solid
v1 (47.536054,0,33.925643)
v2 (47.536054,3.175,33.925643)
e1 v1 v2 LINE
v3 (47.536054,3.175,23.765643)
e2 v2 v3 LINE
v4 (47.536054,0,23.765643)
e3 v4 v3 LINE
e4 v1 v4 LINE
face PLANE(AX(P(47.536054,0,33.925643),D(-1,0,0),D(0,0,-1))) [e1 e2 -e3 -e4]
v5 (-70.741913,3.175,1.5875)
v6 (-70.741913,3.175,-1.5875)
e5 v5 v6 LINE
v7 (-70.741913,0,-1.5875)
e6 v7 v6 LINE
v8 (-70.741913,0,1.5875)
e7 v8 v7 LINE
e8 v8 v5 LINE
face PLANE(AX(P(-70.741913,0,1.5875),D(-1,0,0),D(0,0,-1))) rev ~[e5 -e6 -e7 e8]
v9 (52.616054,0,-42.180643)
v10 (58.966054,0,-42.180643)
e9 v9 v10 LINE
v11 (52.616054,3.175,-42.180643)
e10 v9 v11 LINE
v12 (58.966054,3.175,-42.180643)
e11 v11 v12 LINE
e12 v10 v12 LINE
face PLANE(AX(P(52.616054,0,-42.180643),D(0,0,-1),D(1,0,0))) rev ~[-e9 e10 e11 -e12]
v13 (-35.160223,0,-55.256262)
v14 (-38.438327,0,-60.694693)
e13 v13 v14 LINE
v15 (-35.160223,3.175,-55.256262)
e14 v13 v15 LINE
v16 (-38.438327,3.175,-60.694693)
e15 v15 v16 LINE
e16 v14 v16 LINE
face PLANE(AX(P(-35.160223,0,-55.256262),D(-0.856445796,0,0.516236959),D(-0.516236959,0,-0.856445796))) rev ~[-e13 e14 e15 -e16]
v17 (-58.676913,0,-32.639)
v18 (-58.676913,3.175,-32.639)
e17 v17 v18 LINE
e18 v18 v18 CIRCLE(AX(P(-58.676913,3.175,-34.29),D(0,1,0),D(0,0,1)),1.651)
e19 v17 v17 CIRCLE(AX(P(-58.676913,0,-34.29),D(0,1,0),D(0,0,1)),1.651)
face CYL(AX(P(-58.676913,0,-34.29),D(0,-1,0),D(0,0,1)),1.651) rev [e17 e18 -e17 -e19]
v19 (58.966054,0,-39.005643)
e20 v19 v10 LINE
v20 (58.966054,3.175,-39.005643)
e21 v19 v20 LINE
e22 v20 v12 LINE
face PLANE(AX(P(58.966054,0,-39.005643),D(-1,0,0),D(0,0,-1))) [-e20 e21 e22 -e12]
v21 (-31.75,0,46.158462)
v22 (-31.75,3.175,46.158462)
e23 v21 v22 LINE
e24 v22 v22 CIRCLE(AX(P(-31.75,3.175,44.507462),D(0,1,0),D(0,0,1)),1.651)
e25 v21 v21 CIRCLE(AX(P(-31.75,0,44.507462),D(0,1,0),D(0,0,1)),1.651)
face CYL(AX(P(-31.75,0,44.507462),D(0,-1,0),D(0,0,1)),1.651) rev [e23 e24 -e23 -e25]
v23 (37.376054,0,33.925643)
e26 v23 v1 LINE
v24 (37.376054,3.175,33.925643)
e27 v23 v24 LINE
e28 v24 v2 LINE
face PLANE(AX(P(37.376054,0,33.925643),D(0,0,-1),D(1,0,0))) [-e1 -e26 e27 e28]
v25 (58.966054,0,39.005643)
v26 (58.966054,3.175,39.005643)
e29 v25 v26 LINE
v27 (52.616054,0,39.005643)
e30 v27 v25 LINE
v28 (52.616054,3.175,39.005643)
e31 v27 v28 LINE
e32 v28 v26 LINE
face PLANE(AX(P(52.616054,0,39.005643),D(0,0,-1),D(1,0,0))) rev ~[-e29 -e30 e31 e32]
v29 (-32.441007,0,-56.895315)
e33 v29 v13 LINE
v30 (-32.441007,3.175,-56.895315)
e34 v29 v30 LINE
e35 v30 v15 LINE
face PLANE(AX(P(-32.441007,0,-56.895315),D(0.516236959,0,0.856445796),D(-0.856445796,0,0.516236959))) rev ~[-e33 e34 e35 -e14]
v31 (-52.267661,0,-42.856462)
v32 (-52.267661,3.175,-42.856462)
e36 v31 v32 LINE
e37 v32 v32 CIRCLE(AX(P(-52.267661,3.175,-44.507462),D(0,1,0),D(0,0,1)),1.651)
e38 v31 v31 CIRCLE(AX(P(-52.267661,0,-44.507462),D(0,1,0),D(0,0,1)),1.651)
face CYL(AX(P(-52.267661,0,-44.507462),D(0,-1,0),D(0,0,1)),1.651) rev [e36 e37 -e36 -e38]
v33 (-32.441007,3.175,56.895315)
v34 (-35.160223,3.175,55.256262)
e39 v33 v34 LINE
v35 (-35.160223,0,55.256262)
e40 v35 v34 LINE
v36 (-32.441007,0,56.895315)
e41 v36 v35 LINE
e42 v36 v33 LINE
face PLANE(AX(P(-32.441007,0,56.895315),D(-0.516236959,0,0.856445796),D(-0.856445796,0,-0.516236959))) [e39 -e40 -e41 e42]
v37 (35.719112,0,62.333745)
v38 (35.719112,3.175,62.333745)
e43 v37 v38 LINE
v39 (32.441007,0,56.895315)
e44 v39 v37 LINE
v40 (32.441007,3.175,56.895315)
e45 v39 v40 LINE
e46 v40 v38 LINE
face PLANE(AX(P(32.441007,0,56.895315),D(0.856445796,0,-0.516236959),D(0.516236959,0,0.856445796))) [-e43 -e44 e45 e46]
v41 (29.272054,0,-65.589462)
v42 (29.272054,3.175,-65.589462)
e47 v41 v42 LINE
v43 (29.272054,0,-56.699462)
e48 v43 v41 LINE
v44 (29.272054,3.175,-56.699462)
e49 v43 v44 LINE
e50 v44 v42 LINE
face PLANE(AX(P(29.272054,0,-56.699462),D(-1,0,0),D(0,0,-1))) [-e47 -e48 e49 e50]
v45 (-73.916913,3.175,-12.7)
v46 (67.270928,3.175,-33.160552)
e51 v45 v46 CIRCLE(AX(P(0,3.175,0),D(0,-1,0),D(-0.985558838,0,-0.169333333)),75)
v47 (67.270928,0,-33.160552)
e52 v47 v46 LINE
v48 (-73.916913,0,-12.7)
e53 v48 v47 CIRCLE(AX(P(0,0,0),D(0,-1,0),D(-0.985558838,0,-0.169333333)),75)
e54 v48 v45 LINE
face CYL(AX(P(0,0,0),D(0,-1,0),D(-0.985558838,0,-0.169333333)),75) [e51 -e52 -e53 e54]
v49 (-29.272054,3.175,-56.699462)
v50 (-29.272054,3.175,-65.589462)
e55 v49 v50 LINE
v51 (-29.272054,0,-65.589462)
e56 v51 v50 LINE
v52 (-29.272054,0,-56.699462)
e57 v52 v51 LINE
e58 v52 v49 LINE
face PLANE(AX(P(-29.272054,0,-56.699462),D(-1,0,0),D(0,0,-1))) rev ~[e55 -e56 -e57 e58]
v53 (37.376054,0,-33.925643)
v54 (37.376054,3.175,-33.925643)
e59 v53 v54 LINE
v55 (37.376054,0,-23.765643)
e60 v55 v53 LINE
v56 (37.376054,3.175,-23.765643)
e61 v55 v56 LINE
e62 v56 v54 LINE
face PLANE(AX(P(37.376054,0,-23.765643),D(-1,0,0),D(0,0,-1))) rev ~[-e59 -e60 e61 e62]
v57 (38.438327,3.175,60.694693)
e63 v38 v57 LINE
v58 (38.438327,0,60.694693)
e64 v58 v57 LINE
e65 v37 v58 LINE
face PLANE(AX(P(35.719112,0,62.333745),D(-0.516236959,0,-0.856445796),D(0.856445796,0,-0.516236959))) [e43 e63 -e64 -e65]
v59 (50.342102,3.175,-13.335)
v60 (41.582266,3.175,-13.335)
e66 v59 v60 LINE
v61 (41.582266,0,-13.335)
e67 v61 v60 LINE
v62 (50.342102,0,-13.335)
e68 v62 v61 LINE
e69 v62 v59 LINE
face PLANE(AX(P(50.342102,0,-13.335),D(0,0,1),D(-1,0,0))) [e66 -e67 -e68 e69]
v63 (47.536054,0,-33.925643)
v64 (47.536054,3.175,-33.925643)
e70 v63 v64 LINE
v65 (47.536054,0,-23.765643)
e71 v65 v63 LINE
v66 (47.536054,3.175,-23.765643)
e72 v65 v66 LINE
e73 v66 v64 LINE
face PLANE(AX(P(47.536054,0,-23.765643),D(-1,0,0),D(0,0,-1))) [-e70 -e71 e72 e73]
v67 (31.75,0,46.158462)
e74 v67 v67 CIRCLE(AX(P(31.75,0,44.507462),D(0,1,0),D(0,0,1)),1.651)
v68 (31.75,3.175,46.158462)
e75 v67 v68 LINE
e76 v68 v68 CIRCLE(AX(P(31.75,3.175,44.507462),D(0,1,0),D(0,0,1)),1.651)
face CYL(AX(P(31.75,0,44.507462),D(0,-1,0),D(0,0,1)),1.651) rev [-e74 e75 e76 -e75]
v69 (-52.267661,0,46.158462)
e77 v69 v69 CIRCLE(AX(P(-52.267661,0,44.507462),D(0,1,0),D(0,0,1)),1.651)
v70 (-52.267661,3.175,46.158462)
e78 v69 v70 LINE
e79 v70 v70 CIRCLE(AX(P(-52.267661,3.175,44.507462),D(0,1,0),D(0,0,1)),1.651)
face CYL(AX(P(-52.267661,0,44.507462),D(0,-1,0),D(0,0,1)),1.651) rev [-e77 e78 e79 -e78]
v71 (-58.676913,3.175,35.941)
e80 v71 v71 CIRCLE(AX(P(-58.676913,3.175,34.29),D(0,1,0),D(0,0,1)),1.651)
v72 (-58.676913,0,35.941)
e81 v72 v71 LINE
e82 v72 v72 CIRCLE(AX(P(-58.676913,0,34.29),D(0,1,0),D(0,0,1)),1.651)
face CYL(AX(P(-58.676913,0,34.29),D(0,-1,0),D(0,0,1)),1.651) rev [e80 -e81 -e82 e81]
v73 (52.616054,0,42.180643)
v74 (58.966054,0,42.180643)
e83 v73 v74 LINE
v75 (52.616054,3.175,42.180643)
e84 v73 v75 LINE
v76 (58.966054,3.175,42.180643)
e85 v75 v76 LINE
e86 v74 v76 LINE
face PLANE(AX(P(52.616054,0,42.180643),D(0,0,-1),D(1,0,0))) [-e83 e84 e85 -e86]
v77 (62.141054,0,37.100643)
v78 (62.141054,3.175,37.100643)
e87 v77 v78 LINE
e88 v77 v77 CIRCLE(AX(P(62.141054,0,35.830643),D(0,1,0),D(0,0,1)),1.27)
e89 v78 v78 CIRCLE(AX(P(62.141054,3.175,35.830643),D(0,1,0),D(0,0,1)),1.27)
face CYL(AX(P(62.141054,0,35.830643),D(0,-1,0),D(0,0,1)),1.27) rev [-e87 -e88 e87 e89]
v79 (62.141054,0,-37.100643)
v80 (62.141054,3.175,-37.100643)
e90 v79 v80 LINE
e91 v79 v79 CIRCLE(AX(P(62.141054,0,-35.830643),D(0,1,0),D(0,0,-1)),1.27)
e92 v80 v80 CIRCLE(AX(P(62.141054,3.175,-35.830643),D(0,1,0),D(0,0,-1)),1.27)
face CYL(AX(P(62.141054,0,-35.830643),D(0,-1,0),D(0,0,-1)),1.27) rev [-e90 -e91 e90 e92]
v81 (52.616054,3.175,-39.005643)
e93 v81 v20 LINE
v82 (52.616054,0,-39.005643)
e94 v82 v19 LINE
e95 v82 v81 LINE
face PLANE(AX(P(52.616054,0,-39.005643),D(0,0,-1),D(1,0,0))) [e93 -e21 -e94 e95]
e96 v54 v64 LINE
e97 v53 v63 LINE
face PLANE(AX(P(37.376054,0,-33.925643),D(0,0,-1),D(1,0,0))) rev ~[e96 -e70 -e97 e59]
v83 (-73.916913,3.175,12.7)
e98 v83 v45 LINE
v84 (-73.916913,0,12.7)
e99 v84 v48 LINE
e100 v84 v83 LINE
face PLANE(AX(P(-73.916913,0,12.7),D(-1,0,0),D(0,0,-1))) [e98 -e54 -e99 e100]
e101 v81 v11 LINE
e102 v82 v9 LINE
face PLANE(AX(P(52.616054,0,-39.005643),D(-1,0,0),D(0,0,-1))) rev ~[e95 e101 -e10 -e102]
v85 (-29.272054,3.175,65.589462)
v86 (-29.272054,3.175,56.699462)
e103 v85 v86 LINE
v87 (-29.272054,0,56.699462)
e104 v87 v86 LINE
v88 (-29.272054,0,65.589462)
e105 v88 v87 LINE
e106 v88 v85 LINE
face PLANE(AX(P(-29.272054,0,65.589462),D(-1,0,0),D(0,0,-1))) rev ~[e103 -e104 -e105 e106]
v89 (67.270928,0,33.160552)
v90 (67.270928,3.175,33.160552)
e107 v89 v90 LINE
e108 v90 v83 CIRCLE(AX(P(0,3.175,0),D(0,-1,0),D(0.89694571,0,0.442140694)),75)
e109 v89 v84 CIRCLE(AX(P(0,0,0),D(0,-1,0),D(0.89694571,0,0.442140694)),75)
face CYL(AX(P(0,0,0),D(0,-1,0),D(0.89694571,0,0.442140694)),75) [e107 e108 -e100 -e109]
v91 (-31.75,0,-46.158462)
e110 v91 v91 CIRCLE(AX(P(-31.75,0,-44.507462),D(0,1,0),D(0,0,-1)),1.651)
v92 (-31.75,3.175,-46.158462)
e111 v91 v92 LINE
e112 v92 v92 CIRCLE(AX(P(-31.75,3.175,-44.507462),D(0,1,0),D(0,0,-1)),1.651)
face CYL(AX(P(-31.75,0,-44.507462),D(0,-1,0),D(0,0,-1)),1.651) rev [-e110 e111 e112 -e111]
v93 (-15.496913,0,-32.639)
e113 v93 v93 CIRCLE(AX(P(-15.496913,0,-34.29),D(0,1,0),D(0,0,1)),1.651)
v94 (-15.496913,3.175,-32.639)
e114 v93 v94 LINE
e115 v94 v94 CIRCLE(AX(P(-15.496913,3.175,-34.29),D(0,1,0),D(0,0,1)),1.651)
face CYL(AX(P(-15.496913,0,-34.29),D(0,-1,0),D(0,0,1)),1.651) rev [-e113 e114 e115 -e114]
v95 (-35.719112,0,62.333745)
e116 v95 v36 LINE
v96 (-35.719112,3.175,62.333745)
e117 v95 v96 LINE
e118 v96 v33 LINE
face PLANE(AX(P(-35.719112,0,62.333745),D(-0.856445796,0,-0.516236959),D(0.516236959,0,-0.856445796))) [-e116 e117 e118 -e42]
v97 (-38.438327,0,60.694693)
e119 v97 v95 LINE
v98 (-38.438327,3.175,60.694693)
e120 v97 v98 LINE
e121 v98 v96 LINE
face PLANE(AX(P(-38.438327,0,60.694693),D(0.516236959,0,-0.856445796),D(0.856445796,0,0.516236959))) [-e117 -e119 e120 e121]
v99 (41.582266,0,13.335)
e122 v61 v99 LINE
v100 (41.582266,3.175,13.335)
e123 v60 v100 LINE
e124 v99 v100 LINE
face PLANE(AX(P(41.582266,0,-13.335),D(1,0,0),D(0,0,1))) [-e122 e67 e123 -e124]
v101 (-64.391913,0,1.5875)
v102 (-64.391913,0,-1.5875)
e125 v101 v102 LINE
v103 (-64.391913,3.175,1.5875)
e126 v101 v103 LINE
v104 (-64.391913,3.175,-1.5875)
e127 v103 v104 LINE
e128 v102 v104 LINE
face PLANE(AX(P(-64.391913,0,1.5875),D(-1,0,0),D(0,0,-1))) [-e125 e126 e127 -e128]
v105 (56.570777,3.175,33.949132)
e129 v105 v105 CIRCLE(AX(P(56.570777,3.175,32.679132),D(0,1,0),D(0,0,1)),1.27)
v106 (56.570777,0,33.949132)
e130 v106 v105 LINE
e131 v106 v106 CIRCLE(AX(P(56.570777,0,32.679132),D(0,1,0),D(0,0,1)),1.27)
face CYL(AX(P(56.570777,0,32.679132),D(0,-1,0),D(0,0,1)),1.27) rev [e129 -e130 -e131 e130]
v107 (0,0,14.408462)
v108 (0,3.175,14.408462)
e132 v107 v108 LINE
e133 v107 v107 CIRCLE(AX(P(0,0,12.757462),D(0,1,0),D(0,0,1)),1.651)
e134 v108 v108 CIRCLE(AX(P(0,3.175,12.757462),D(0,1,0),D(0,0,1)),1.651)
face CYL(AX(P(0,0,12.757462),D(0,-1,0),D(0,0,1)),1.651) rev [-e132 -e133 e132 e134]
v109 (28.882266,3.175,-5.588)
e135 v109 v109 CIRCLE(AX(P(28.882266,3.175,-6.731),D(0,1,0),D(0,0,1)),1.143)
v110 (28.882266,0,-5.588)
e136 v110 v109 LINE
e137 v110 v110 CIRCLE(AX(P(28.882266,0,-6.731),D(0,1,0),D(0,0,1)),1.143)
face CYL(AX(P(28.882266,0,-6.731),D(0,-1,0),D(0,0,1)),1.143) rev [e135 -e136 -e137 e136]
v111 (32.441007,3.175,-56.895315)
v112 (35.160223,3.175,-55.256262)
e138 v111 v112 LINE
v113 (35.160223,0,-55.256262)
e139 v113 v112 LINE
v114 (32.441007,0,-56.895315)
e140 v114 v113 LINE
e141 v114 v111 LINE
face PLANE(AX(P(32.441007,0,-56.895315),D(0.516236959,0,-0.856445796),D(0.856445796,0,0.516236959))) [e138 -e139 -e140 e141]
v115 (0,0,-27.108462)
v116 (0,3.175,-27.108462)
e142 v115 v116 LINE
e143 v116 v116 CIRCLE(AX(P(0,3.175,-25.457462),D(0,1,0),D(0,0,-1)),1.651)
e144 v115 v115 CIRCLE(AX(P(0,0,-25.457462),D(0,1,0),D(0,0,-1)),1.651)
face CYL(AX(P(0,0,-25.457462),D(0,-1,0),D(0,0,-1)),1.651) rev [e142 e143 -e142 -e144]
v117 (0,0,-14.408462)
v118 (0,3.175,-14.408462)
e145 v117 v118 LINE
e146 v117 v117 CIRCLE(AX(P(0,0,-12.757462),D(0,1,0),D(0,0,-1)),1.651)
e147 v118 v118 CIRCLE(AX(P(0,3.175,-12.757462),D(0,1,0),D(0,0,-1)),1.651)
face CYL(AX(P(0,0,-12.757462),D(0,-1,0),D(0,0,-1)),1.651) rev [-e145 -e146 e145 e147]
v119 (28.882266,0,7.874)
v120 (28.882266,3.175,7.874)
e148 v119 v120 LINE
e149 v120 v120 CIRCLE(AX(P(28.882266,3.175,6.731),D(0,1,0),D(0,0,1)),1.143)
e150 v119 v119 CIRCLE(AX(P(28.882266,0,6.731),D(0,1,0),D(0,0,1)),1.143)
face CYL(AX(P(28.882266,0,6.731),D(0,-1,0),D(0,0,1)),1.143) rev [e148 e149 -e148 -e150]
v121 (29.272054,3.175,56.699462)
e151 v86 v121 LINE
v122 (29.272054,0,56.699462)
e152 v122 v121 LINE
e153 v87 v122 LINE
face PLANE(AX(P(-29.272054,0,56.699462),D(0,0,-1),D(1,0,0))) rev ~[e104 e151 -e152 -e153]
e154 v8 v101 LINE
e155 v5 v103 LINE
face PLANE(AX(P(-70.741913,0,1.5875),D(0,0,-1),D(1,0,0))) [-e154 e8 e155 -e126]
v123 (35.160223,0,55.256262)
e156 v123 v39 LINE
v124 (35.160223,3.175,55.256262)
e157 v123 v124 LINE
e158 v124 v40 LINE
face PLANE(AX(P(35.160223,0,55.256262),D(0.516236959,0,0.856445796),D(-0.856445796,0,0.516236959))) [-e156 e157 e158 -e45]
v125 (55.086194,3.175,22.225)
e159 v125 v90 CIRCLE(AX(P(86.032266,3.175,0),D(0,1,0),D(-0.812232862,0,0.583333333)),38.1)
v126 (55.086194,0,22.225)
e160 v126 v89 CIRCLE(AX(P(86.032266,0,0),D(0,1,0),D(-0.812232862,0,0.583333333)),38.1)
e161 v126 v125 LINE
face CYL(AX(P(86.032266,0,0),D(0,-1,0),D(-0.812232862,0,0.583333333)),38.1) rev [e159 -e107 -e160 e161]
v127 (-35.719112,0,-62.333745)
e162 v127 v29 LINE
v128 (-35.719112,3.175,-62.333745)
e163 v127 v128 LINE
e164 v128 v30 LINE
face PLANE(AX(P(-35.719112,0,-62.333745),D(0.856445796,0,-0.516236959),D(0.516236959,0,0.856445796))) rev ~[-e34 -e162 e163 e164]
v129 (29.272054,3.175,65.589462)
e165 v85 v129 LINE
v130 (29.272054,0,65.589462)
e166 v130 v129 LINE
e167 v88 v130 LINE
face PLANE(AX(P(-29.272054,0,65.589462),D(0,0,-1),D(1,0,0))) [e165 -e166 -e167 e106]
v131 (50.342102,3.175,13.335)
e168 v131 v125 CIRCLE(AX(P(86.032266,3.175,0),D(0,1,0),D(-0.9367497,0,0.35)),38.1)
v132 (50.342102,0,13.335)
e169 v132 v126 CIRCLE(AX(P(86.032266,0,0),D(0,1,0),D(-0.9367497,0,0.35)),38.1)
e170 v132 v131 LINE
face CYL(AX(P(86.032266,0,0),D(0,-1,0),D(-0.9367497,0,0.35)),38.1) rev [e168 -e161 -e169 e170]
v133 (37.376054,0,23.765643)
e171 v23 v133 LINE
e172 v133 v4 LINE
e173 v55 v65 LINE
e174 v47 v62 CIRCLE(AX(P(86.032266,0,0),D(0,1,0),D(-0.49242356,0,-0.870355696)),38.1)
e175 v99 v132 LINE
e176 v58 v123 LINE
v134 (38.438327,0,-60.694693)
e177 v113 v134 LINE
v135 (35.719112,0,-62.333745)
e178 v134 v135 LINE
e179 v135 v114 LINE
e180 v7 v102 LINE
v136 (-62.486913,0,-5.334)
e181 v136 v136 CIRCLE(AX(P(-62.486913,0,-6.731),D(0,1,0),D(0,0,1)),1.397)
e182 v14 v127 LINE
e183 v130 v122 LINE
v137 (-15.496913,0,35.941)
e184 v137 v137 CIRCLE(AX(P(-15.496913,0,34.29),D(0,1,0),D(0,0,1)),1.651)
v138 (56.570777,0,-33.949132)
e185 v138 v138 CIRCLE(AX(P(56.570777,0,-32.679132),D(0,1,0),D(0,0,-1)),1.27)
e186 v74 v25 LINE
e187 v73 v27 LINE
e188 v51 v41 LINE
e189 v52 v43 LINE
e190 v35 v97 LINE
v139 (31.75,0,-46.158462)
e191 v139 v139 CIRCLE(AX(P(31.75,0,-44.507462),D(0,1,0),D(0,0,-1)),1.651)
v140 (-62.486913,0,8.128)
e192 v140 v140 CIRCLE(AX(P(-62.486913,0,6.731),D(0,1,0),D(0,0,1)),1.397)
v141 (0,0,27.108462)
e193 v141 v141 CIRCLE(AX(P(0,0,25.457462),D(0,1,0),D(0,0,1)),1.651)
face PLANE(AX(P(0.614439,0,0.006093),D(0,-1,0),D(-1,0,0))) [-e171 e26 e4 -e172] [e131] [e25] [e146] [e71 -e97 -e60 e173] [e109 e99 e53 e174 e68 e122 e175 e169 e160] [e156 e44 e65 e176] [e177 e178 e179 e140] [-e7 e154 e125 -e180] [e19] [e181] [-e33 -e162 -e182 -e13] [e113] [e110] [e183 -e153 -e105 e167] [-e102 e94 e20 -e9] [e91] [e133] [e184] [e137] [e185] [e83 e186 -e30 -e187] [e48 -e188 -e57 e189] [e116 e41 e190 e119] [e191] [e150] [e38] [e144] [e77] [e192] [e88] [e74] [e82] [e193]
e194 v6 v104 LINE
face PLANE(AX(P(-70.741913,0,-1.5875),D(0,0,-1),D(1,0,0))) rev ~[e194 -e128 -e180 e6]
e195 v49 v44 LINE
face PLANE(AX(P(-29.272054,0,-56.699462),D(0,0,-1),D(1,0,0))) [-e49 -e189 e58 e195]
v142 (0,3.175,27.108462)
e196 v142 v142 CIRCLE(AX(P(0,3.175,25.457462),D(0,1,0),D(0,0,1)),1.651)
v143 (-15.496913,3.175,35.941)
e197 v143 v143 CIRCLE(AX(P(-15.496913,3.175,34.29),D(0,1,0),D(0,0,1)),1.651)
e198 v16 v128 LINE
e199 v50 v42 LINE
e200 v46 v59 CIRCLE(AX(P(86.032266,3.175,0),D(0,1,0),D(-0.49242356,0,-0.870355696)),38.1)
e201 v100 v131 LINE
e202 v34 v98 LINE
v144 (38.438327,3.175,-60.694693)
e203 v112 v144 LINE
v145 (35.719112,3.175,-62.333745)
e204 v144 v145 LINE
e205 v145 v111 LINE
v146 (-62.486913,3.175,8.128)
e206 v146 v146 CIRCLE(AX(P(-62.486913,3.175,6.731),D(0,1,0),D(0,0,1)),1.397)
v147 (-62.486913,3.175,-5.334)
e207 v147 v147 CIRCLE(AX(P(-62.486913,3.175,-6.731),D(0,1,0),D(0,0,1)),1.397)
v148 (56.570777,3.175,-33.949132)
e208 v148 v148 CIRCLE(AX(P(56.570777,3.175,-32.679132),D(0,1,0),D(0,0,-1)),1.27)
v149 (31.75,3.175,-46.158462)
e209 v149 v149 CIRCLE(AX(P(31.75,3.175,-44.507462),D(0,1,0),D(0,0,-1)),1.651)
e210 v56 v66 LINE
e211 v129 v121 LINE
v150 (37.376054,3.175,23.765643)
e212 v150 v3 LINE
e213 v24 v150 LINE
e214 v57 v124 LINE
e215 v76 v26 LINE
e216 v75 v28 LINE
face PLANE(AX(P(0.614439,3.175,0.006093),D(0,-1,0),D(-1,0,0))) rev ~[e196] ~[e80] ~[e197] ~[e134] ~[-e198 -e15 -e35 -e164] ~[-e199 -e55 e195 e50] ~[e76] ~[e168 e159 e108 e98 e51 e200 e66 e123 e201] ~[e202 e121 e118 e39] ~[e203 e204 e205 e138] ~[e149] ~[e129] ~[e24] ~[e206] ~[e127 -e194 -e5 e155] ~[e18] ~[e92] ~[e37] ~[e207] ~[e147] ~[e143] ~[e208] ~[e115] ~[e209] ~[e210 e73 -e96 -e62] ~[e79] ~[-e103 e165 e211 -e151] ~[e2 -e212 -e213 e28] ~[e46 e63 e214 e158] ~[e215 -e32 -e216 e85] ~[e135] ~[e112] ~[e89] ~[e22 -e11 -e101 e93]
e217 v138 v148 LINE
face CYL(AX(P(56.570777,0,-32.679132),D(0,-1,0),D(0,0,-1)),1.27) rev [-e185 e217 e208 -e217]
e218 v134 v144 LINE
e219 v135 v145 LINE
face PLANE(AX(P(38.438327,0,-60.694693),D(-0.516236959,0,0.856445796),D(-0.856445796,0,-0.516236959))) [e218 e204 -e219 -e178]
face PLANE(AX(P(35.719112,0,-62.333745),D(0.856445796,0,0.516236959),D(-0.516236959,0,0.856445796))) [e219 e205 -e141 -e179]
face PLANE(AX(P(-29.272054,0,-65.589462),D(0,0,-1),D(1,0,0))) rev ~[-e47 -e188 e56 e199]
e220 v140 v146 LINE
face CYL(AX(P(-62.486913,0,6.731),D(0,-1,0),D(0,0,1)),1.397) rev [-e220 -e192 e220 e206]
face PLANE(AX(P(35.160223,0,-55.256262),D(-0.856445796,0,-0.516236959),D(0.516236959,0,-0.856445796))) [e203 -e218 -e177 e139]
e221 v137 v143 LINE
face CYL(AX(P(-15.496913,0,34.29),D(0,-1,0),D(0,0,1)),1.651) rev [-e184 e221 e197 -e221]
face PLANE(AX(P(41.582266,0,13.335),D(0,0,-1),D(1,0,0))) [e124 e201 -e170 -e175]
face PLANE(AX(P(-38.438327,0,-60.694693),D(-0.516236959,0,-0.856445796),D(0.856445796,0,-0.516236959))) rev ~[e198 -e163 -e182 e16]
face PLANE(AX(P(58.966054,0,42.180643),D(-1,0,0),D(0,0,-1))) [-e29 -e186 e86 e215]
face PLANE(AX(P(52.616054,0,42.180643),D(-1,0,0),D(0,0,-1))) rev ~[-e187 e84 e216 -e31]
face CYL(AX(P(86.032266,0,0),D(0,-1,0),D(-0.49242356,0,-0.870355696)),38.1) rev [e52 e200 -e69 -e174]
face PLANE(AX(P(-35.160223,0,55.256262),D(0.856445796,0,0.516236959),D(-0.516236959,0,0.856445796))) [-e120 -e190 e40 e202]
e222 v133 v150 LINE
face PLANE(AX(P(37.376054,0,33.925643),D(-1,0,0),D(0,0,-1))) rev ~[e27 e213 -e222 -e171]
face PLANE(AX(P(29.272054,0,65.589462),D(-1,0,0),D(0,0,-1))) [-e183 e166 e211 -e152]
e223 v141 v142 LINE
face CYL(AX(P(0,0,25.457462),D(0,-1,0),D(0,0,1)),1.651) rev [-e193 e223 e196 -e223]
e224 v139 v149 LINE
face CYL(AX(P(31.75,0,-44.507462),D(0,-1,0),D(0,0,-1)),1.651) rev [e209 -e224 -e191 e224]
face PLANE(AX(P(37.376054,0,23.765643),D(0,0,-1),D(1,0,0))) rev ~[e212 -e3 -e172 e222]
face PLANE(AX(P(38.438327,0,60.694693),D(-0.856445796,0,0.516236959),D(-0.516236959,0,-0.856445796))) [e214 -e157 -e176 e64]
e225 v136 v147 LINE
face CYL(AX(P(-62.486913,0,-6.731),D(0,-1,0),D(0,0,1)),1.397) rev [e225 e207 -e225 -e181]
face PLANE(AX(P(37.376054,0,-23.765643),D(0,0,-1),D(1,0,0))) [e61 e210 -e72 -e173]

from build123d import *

# Parameters (mm, degrees)
SKETCH1_R           = 1.397
SKETCH1_R_2         = 1.651
SKETCH1_R_3         = 1.143
SKETCH1_R_4         = 1.27
SKETCH1_W           = 58.544107304
SKETCH1_H           = 8.89
SKETCH1_W_2         = 6.35
SKETCH1_H_2         = 3.175
SKETCH1_W_3         = 10.16
SKETCH1_H_3         = 10.16
BOSS_EXTRUDE1_DEPTH = 3.175


with BuildPart() as part:
    # Sketch1 → Boss-Extrude1 (new body)
    with BuildSketch(Plane(origin=(0, 0, 0), x_dir=(1, 0, 0), z_dir=(0, 1, 0))):
        with BuildLine():
            Line((50.342102347, 13.335), (41.582265908, 13.335))
            Line((41.582265908, 13.335), (41.582265908, -13.335))
            Line((41.582265908, -13.335), (50.342102347, -13.335))
            ThreePointArc((50.342102347, -13.335), (52.41895011, -17.937530518), (55.086193863, -22.225))
            ThreePointArc((55.086193863, -22.225), (60.584216496, -28.355013333), (67.270928268, -33.160552015))
            ThreePointArc((67.270928268, -33.160552015), (-10.756431789, -74.224653419), (-73.916912814, -12.7))
            Line((-73.916912814, -12.7), (-73.916912814, 12.7))
            ThreePointArc((-73.916912814, 12.7), (-10.756431789, 74.224653419), (67.270928268, 33.160552015))
            ThreePointArc((67.270928268, 33.160552015), (57.058059725, 24.74076345), (50.342102347, 13.335))
        make_face()
        with Locations(Location((-62.486912814, 6.731, 0), (0, 0, 270))):
            Circle(SKETCH1_R, mode=Mode.SUBTRACT)
        with Locations(Location((-62.486912814, -6.731, 0), (0, 0, 270))):
            Circle(SKETCH1_R, mode=Mode.SUBTRACT)
        with Locations(Location((-31.75, -44.507461806, 0), (0, 0, 270))):
            Circle(SKETCH1_R_2, mode=Mode.SUBTRACT)
        with Locations(Location((31.75, -44.507461806, 0), (0, 0, 270))):
            Circle(SKETCH1_R_2, mode=Mode.SUBTRACT)
        with Locations(Location((31.75, 44.507461806, 0), (0, 0, 90))):
            Circle(SKETCH1_R_2, mode=Mode.SUBTRACT)
        with Locations(Location((0, -12.757461806, 0), (0, 0, 270))):
            Circle(SKETCH1_R_2, mode=Mode.SUBTRACT)
        with Locations(Location((-31.75, 44.507461806, 0), (0, 0, 90))):
            Circle(SKETCH1_R_2, mode=Mode.SUBTRACT)
        with Locations(Location((0, 12.757461806, 0), (0, 0, 90))):
            Circle(SKETCH1_R_2, mode=Mode.SUBTRACT)
        with Locations(Location((28.882265908, 6.731, 0), (0, 0, 270))):
            Circle(SKETCH1_R_3, mode=Mode.SUBTRACT)
        with Locations(Location((-58.676912814, 34.29, 0), (0, 0, 270))):
            Circle(SKETCH1_R_2, mode=Mode.SUBTRACT)
        with Locations(Location((62.141053559, -35.830642926, 0), (0, 0, 270))):
            Circle(SKETCH1_R_4, mode=Mode.SUBTRACT)
        with Locations(Location((56.570777105, -32.679132142, 0), (0, 0, 270))):
            Circle(SKETCH1_R_4, mode=Mode.SUBTRACT)
        with Locations(Location((-58.676912814, -34.29, 0), (0, 0, 270))):
            Circle(SKETCH1_R_2, mode=Mode.SUBTRACT)
        with Locations(Location((28.882265908, -6.731, 0), (0, 0, 270))):
            Circle(SKETCH1_R_3, mode=Mode.SUBTRACT)
        with Locations(Location((0, -25.457461806, 0), (0, 0, 270))):
            Circle(SKETCH1_R_2, mode=Mode.SUBTRACT)
        with Locations(Location((56.570777105, 32.679132142, 0), (0, 0, 90))):
            Circle(SKETCH1_R_4, mode=Mode.SUBTRACT)
        with Locations(Location((62.141053559, 35.830642926, 0), (0, 0, 90))):
            Circle(SKETCH1_R_4, mode=Mode.SUBTRACT)
        with Locations(Location((0, 25.457461806, 0), (0, 0, 90))):
            Circle(SKETCH1_R_2, mode=Mode.SUBTRACT)
        with Locations(Location((-15.496912814, 34.29, 0), (0, 0, 270))):
            Circle(SKETCH1_R_2, mode=Mode.SUBTRACT)
        with Locations(Location((-15.496912814, -34.29, 0), (0, 0, 270))):
            Circle(SKETCH1_R_2, mode=Mode.SUBTRACT)
        with Locations(Location((-52.26766059, -44.507461806, 0), (0, 0, 270))):
            Circle(SKETCH1_R_2, mode=Mode.SUBTRACT)
        with Locations(Location((-52.26766059, 44.507461806, 0), (0, 0, 270))):
            Circle(SKETCH1_R_2, mode=Mode.SUBTRACT)
        with Locations((0, -61.144461806)):
            Rectangle(SKETCH1_W, SKETCH1_H, mode=Mode.SUBTRACT)
        with Locations((0, 61.144461806)):
            Rectangle(SKETCH1_W, SKETCH1_H, mode=Mode.SUBTRACT)
        with Locations((55.791053559, -40.593142926)):
            Rectangle(SKETCH1_W_2, SKETCH1_H_2, mode=Mode.SUBTRACT)
        with Locations((55.791053559, 40.593142926)):
            Rectangle(SKETCH1_W_2, SKETCH1_H_2, mode=Mode.SUBTRACT)
        with Locations((42.456053559, 28.845642926)):
            Rectangle(SKETCH1_W_3, SKETCH1_H_3, mode=Mode.SUBTRACT)
        with Locations((42.456053559, -28.845642926)):
            Rectangle(SKETCH1_W_3, SKETCH1_H_3, mode=Mode.SUBTRACT)
        Polygon((32.44100721, -56.895314679), (35.719111901, -62.333745485), (38.438327304, -60.694693139), (35.160222613, -55.256262334), align=None, mode=Mode.SUBTRACT)
        Polygon((-32.44100721, -56.895314679), (-35.160222613, -55.256262334), (-38.438327304, -60.694693139), (-35.719111901, -62.333745485), align=None, mode=Mode.SUBTRACT)
        Polygon((-35.160222613, 55.256262334), (-38.438327304, 60.694693139), (-35.719111901, 62.333745485), (-32.44100721, 56.895314679), align=None, mode=Mode.SUBTRACT)
        Polygon((35.160222613, 55.256262334), (38.438327304, 60.694693139), (35.719111901, 62.333745485), (32.44100721, 56.895314679), align=None, mode=Mode.SUBTRACT)
        with Locations((-67.566912814, 0)):
            Rectangle(SKETCH1_W_2, SKETCH1_H_2, mode=Mode.SUBTRACT)
    extrude(amount=BOSS_EXTRUDE1_DEPTH)


solid = part.part
